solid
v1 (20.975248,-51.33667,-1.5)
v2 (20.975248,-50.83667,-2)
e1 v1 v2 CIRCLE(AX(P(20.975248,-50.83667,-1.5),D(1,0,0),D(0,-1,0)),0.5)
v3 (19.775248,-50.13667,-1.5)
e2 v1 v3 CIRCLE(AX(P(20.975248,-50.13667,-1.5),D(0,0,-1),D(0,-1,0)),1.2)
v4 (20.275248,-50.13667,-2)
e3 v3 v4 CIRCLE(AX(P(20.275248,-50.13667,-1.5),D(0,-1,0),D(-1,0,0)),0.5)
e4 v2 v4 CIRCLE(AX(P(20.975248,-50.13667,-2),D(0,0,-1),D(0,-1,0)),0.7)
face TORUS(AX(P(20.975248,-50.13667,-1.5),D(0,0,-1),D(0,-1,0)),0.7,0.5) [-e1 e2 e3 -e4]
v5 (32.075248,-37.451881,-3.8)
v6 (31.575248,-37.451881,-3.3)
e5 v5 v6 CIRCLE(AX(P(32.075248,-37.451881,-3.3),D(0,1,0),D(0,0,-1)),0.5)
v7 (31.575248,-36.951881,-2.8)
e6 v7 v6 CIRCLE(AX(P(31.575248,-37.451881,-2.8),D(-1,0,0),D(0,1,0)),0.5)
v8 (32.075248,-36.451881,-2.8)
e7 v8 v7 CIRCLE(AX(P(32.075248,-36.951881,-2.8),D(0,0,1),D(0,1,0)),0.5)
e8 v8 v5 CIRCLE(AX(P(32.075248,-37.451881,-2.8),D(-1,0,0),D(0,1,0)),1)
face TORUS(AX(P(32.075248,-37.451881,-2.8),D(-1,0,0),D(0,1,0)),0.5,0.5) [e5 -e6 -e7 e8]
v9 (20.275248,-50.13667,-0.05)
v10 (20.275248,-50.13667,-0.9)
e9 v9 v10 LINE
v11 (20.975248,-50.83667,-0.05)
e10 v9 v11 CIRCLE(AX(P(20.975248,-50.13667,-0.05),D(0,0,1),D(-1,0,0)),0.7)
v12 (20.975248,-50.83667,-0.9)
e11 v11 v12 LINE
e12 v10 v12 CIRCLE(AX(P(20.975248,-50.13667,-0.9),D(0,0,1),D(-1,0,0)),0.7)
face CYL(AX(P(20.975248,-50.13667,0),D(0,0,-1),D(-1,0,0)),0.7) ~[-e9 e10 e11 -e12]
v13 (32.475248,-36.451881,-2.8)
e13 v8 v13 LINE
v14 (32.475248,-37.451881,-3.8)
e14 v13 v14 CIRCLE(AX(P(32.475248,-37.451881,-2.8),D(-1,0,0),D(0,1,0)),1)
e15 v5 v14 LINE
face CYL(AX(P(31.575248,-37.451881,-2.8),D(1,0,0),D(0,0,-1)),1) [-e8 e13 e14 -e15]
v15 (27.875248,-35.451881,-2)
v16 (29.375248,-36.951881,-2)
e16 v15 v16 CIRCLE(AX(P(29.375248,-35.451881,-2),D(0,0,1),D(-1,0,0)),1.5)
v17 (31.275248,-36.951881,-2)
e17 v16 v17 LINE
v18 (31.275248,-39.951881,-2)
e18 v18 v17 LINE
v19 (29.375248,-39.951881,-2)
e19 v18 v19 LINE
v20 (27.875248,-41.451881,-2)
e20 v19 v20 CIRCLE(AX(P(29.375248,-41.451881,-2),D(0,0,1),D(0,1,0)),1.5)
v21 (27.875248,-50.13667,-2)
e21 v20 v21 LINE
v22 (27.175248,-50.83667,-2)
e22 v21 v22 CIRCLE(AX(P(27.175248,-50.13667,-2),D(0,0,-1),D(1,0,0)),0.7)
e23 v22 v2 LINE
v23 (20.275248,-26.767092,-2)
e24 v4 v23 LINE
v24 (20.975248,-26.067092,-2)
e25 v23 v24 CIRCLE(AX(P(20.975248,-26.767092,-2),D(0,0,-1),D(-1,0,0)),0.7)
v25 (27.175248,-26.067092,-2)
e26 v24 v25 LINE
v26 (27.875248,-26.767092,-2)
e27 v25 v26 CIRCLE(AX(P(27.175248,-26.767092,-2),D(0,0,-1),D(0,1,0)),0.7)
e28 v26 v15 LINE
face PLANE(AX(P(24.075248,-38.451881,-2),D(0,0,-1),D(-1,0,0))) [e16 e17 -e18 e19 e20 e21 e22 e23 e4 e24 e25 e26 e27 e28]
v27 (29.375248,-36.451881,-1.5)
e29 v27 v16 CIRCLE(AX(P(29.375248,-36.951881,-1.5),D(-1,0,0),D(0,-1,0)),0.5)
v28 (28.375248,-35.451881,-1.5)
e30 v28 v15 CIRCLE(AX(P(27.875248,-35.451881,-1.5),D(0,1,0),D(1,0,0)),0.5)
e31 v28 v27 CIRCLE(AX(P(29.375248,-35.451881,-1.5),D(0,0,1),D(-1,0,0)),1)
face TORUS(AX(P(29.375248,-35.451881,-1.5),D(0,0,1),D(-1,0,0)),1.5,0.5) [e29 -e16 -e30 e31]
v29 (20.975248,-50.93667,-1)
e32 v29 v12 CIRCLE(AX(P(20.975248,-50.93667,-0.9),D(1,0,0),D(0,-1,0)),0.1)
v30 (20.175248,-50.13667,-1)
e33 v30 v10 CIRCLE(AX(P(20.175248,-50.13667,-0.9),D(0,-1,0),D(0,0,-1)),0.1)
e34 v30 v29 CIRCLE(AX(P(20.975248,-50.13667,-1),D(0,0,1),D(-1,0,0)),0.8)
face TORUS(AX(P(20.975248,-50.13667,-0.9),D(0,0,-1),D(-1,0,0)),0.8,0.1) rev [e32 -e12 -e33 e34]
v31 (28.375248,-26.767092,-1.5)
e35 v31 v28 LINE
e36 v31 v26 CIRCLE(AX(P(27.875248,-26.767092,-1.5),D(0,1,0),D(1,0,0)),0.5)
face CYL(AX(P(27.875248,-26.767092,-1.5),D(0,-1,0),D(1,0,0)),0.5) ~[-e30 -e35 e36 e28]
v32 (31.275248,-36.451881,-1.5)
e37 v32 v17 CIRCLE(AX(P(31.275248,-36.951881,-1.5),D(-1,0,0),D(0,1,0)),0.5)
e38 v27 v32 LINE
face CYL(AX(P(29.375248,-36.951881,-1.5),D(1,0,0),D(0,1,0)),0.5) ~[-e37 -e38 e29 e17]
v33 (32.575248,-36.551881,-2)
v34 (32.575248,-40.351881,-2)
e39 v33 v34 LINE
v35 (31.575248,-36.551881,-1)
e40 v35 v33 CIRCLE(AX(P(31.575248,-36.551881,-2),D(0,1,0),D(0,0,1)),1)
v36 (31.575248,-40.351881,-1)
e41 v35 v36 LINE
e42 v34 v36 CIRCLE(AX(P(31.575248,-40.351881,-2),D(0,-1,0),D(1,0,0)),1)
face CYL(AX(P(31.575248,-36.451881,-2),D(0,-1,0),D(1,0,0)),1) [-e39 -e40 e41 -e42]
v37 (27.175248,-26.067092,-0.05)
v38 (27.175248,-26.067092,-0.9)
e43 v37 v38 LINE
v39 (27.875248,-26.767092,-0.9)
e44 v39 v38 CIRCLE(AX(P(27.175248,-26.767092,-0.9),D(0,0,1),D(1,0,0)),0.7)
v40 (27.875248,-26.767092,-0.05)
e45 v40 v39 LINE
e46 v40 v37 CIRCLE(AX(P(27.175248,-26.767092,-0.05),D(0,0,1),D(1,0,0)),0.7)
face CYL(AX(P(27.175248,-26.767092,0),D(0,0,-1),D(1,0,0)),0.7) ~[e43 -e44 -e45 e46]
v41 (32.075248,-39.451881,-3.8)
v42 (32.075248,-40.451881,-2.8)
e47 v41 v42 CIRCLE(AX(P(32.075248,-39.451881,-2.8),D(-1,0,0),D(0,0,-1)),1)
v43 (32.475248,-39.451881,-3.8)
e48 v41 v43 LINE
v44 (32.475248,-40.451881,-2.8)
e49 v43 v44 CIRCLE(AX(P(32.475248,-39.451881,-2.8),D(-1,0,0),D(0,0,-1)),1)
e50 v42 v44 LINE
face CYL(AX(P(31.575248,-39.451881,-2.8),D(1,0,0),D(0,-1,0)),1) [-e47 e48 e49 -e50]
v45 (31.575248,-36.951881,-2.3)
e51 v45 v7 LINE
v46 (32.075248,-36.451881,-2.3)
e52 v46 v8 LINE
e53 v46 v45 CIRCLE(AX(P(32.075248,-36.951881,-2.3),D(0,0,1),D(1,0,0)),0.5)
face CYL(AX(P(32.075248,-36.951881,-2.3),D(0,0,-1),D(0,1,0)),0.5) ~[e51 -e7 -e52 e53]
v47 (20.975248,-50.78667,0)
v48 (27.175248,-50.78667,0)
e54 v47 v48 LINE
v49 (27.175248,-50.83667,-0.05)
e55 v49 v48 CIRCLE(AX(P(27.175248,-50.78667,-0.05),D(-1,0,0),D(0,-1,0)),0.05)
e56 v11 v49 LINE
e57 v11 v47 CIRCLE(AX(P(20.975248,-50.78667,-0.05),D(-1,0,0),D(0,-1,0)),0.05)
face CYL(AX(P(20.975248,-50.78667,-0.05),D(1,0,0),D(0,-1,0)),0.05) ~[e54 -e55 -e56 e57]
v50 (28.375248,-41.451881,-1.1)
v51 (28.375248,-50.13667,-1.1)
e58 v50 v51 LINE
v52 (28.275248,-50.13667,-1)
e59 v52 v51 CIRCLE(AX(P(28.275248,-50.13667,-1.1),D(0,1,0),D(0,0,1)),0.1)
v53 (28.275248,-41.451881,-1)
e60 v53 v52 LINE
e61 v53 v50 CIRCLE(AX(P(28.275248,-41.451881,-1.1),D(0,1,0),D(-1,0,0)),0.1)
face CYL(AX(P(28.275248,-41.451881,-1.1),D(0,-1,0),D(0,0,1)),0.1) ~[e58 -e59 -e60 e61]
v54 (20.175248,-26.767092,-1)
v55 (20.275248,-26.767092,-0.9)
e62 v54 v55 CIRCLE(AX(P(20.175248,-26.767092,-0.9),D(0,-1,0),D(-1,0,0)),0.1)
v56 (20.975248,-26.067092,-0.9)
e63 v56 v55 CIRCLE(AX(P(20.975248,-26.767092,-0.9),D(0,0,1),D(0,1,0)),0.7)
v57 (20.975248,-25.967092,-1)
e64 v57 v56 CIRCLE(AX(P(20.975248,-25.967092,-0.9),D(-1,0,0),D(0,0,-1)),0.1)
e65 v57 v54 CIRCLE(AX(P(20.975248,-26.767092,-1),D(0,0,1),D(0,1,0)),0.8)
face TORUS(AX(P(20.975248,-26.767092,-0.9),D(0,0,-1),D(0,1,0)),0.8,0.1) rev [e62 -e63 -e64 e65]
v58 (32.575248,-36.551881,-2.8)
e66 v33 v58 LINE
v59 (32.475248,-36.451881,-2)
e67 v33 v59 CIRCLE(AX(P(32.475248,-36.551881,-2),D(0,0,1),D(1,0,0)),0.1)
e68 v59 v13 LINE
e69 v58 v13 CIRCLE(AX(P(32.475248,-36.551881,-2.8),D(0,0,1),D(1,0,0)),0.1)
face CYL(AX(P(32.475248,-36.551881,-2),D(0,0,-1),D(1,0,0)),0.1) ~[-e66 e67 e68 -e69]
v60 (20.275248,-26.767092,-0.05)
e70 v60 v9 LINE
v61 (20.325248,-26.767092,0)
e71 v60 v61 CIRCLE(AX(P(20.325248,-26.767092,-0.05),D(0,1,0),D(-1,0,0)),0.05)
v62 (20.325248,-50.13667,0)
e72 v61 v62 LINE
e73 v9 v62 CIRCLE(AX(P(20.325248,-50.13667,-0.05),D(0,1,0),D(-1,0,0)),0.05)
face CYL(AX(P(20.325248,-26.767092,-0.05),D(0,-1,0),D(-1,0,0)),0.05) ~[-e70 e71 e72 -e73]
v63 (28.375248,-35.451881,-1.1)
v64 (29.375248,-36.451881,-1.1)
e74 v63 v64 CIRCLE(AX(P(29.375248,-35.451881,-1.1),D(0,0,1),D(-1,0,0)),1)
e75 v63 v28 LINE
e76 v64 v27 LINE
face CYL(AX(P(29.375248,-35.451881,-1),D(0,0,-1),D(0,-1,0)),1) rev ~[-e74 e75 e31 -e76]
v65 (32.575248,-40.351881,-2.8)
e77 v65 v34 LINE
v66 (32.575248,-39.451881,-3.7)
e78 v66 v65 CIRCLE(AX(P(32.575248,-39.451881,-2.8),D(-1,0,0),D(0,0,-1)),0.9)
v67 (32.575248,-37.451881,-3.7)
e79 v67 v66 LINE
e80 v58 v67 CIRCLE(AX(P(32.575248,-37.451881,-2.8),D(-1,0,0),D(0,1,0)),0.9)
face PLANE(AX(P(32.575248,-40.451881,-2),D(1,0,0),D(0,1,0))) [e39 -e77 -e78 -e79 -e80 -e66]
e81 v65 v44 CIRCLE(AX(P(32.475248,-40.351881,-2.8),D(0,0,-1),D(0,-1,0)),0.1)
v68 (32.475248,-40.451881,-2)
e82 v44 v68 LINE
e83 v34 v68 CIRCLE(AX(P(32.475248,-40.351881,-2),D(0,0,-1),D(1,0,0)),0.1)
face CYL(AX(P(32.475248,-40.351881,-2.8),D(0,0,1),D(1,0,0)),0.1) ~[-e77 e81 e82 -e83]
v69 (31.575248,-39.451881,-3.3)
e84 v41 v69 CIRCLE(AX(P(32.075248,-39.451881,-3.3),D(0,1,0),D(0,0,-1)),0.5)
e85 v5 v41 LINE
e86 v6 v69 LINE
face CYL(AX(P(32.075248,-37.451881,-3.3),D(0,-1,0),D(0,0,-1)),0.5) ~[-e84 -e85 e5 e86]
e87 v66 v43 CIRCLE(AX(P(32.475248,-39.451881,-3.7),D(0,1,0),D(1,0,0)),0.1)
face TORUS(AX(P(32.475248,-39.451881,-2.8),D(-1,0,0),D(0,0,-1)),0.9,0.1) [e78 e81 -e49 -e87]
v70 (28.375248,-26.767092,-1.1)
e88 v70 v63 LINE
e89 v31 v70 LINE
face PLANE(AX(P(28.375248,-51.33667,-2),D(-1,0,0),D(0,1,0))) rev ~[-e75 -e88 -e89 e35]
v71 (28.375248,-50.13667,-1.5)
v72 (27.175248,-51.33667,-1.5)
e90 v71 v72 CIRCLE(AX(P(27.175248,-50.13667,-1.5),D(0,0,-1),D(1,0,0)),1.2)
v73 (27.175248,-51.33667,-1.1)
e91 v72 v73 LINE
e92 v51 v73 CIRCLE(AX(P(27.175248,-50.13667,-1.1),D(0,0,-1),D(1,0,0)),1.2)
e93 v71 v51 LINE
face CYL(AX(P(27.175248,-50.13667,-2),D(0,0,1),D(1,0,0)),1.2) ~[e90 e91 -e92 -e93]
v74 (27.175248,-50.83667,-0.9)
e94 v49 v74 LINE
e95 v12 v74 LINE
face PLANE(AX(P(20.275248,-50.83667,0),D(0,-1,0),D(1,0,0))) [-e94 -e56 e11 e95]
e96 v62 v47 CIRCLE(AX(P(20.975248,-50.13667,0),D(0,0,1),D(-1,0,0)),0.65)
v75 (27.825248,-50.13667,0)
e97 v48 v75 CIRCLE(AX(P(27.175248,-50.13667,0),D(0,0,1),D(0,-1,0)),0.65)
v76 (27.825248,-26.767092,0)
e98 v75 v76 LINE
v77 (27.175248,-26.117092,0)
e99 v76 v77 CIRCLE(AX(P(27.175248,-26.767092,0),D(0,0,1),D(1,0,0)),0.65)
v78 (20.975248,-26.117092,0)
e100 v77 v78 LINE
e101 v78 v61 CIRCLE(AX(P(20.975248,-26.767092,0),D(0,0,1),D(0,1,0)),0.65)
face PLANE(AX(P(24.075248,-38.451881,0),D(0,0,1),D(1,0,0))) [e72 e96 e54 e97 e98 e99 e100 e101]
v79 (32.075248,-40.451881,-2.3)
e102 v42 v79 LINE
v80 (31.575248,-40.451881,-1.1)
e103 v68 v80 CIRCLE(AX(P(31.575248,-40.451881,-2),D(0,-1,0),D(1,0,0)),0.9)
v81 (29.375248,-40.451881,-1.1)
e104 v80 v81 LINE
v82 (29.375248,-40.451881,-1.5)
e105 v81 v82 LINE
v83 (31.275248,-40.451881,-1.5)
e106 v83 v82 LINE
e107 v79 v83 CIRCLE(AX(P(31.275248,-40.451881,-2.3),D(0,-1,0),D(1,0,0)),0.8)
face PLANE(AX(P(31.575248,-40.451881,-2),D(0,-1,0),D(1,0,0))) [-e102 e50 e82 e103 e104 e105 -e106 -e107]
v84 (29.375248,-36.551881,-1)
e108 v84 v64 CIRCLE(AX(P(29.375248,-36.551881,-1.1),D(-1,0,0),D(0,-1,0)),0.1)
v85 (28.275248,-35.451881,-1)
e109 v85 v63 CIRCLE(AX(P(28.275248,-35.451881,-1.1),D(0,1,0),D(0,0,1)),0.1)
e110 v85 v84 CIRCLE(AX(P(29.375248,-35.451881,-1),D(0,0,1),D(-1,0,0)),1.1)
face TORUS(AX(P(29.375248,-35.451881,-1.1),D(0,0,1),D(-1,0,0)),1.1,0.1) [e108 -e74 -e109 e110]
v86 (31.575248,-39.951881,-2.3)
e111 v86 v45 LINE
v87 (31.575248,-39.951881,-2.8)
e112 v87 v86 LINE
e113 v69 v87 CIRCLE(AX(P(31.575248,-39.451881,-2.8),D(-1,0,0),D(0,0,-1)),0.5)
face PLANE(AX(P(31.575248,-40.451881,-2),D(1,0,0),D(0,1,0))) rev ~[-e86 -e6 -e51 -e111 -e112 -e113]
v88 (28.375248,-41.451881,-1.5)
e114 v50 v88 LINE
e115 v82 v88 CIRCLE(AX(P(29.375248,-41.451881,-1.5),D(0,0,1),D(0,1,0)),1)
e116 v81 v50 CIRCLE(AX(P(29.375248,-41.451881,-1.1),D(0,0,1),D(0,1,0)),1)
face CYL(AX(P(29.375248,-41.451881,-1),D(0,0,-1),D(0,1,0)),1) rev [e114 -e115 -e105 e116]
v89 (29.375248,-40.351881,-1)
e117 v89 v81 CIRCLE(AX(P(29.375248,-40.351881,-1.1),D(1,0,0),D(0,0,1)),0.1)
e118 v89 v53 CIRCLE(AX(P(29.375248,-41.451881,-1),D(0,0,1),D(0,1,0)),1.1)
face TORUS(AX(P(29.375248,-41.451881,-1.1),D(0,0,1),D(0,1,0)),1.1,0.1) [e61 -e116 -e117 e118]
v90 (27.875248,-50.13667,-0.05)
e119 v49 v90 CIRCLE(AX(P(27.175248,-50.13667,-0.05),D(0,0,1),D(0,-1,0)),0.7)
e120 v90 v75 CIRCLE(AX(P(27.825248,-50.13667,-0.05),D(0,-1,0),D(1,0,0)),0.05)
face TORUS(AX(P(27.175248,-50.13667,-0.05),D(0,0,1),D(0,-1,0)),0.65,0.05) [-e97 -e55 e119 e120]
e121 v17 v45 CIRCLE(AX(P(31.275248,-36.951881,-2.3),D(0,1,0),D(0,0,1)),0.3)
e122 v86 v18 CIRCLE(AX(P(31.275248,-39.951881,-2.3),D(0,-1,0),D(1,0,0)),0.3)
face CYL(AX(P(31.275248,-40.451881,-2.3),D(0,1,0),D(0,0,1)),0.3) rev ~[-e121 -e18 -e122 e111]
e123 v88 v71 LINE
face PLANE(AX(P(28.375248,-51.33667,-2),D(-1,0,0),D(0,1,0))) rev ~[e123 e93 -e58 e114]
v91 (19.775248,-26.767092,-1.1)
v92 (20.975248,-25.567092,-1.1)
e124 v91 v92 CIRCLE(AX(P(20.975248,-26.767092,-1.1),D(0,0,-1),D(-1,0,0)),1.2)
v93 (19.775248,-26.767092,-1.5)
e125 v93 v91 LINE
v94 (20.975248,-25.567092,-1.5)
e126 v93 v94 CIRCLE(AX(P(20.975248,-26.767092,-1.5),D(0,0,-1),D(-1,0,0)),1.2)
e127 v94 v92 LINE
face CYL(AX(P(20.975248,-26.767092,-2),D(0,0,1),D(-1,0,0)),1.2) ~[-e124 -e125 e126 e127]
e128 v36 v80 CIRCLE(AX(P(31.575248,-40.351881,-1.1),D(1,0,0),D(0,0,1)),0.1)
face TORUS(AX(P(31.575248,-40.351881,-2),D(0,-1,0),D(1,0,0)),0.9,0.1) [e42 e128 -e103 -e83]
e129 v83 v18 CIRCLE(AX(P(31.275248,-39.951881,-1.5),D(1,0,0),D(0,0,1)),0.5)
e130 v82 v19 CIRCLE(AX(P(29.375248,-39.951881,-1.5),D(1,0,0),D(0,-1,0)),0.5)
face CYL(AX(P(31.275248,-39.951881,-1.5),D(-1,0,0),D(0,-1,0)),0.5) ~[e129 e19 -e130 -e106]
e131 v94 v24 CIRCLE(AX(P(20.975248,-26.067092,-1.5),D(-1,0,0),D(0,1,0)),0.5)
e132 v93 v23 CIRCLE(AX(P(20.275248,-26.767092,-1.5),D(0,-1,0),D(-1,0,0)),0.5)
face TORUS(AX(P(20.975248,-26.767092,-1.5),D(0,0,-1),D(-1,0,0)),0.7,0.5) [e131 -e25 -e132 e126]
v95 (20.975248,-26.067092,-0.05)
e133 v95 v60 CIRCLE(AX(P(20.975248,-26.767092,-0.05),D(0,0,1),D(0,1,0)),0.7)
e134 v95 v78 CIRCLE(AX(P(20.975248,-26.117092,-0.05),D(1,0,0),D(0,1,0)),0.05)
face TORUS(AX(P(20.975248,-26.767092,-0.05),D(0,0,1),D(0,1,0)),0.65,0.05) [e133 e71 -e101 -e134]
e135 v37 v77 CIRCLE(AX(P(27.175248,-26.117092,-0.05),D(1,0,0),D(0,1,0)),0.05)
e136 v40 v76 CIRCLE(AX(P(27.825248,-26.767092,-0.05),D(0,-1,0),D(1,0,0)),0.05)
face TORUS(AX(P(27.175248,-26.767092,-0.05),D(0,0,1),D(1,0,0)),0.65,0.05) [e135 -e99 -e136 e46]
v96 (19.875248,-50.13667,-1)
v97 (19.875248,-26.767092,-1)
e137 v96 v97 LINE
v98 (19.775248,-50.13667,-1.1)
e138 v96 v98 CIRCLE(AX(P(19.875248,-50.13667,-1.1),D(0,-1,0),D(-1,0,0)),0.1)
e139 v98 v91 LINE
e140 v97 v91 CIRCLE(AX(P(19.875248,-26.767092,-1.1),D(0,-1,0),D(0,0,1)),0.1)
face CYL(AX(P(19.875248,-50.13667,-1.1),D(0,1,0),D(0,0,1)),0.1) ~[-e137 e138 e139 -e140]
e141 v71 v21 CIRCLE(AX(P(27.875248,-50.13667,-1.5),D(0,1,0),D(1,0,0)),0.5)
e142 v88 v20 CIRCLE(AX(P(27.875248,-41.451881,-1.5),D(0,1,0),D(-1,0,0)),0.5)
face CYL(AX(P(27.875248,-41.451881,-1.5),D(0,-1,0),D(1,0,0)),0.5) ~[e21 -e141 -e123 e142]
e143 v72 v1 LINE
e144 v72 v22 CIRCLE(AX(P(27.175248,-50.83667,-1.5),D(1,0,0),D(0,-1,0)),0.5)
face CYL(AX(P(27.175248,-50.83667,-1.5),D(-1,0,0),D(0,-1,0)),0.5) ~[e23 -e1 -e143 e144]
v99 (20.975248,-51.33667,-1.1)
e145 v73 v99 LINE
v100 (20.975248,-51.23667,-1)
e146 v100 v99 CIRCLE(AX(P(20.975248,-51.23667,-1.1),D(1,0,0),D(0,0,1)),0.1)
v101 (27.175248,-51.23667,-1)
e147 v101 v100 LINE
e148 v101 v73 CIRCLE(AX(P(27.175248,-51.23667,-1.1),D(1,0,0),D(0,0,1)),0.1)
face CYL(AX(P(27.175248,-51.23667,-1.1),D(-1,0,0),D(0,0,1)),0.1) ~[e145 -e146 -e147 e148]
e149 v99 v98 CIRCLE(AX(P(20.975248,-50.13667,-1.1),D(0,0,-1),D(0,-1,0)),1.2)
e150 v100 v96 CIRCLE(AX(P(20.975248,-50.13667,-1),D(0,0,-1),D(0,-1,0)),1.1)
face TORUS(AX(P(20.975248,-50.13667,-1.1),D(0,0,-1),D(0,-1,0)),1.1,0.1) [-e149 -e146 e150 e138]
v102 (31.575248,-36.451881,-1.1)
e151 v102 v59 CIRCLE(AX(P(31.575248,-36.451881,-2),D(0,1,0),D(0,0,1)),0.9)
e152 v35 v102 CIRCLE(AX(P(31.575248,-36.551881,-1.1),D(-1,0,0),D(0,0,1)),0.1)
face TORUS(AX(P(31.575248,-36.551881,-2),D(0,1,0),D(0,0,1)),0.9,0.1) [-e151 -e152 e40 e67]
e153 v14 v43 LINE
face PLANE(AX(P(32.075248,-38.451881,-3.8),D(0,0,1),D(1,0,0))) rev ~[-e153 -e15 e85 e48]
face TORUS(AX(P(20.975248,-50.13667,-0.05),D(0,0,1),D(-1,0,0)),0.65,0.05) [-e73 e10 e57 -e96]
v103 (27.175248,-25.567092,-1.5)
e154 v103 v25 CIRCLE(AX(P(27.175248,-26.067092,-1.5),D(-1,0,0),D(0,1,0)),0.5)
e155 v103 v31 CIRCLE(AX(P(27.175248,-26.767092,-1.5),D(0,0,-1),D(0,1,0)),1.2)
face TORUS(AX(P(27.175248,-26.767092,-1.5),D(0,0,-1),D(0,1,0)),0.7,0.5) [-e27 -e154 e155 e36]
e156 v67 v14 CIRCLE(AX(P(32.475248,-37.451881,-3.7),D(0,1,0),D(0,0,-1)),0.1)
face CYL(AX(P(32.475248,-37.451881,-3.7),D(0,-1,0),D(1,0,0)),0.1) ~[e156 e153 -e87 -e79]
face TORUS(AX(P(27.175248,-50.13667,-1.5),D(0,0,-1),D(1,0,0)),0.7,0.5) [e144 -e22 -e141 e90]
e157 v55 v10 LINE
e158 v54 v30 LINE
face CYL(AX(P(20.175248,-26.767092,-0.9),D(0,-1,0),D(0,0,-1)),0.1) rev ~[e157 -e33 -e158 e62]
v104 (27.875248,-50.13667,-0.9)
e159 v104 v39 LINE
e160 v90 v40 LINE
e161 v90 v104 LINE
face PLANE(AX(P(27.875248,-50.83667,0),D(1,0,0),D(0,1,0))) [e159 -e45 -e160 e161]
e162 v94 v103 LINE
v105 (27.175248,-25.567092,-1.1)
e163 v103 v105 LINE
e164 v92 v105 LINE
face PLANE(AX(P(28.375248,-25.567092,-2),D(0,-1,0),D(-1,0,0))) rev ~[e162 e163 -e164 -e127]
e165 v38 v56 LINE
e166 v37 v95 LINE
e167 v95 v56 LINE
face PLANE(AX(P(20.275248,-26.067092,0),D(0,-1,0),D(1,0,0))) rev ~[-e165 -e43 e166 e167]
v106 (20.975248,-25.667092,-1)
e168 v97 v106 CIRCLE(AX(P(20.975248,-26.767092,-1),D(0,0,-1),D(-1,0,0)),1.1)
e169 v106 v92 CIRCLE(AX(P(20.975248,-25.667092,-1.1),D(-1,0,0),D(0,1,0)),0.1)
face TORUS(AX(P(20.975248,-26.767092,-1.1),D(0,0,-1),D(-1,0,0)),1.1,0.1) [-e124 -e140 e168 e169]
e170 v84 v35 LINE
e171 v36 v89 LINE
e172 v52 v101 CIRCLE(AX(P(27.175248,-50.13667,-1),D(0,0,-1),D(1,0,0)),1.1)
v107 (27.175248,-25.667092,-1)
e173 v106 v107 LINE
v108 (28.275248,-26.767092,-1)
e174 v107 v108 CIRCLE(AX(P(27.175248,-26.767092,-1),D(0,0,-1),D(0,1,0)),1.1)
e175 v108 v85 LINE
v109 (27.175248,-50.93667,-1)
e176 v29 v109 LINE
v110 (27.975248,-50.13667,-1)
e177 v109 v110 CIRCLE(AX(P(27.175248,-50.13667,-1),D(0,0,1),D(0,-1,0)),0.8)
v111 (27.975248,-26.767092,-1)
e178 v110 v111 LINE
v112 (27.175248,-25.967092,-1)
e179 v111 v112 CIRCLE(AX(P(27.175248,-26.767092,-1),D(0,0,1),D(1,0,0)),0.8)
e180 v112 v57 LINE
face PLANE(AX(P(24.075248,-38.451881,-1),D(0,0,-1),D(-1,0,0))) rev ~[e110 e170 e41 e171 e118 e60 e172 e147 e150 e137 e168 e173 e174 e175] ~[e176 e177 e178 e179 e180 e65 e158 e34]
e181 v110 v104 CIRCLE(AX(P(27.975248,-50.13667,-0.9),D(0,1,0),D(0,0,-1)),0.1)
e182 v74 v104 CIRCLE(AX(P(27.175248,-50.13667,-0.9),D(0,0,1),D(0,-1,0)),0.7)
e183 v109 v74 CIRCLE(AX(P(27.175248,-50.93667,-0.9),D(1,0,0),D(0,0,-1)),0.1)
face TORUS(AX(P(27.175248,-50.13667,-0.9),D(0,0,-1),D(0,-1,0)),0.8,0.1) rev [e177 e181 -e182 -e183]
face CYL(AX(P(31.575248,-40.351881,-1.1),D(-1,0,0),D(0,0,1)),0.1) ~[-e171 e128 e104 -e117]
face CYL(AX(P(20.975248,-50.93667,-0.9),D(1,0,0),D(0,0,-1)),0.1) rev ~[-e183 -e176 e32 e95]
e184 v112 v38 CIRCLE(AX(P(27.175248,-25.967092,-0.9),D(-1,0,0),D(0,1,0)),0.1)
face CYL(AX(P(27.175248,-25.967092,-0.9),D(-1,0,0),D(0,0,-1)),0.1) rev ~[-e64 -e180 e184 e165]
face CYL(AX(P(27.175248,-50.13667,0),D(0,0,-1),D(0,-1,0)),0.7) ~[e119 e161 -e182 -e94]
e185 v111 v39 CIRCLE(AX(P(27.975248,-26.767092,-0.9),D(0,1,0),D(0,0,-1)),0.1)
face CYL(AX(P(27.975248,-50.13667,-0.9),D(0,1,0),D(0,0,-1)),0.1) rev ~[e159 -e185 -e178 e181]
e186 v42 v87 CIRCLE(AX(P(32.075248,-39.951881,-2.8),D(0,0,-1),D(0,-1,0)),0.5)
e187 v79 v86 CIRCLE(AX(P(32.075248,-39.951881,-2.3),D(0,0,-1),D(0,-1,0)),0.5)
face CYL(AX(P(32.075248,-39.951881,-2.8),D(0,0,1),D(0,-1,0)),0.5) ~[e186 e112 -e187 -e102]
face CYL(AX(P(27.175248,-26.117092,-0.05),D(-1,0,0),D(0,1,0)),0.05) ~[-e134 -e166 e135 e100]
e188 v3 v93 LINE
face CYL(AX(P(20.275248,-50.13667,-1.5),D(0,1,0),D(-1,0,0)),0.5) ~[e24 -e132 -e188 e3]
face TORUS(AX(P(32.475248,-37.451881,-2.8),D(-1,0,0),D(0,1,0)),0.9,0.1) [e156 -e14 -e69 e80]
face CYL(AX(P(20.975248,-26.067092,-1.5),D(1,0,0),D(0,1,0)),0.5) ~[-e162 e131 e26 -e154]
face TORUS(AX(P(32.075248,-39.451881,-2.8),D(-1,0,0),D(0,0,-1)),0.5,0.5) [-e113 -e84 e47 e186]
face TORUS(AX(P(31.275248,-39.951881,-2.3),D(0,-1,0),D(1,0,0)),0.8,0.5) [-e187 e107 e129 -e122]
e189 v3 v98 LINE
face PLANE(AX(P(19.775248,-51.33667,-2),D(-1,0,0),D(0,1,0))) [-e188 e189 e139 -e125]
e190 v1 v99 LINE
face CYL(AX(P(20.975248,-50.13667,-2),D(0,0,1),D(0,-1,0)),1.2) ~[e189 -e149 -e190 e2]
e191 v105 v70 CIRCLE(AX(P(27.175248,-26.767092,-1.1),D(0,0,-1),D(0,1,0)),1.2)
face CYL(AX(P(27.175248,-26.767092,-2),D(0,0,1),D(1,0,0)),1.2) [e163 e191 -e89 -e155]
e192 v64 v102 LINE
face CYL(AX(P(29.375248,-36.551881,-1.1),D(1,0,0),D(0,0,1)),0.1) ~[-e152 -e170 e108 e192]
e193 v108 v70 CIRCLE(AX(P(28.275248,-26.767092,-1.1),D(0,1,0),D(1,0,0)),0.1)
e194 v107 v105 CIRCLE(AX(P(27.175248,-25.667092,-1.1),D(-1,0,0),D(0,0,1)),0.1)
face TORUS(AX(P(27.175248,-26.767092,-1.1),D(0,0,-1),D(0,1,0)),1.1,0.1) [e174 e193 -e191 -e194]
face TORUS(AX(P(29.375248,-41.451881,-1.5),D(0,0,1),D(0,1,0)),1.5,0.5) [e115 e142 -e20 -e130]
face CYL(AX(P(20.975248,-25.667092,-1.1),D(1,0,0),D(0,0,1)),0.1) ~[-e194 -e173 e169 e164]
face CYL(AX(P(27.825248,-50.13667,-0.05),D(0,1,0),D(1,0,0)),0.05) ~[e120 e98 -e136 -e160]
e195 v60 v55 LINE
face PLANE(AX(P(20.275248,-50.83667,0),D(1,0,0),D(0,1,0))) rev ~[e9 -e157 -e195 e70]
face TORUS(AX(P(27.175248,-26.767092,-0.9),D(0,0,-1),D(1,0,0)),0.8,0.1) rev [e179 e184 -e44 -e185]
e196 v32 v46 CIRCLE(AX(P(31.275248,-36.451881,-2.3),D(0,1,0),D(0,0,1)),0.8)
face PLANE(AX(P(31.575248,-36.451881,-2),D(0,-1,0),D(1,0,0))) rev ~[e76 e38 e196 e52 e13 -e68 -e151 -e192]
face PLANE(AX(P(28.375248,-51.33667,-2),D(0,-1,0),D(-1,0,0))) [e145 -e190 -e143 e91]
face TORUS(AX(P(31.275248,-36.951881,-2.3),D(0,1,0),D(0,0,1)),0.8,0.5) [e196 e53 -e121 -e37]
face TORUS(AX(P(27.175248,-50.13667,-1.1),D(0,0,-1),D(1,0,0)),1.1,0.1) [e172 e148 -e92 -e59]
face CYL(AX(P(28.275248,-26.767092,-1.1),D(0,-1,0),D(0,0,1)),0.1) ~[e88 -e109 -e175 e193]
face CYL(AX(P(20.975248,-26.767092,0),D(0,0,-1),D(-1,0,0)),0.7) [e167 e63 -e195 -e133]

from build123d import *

# Parameters (mm, degrees)
SKETCH1_W           = 7.6
SKETCH1_H           = 24.769577967
BOSS_EXTRUDE1_DEPTH = 2
SKETCH2_W           = 8.6
SKETCH2_H           = 25.769577967
BOSS_EXTRUDE2_DEPTH = 1
SKETCH3_W           = 1
SKETCH3_H           = 4
BOSS_EXTRUDE3_DEPTH = 4.2
SKETCH4_W           = 1
SKETCH4_H           = 4
BOSS_EXTRUDE4_DEPTH = 1.8
FILLET1_R           = 1
FILLET2_R           = 0.3
FILLET3_R           = 1
FILLET4_R           = 1.2
FILLET5_R           = 0.7
FILLET6_R           = 0.1
FILLET7_R           = 0.05
FILLET8_R           = 0.5


with BuildPart() as part:
    # Sketch1 → Boss-Extrude1 (new body)
    with BuildSketch(Plane.XY):
        with Locations((24.075247947, -38.451880902)):
            Rectangle(SKETCH1_W, SKETCH1_H)
    extrude(amount=-BOSS_EXTRUDE1_DEPTH)

    # Sketch2 → Boss-Extrude2 (add)
    with BuildSketch(Plane(origin=(0, 0, -2), x_dir=(-1, 0, 0), z_dir=(0, 0, -1))):
        with Locations((-24.075247947, -38.451880902)):
            Rectangle(SKETCH2_W, SKETCH2_H)
    extrude(amount=-BOSS_EXTRUDE2_DEPTH)

    # Sketch3 → Boss-Extrude3 (add)
    with BuildSketch(Plane(origin=(28.375247947, -22.961421938, 0), x_dir=(0, 0, -1), z_dir=(-1, 0, 0))):
        with Locations((1.5, 15.490458963)):
            Rectangle(SKETCH3_W, SKETCH3_H)
    extrude(amount=-BOSS_EXTRUDE3_DEPTH)

    # Sketch4 → Boss-Extrude4 (add)
    with BuildSketch(Plane(origin=(65.150495893, 0, -2), x_dir=(1, 0, 0), z_dir=(0, 0, 1))):
        with Locations((-33.075247947, -38.451880902)):
            Rectangle(SKETCH4_W, SKETCH4_H)
    extrude(amount=-BOSS_EXTRUDE4_DEPTH)

    # Fillet1
    fillet1_edges = [part.edges().sort_by_distance(p)[0] for p in [
        (32.575247947, -38.451880902, -1),
    ]]
    fillet(fillet1_edges, radius=FILLET1_R)

    # Fillet2
    fillet2_edges = [part.edges().sort_by_distance(p)[0] for p in [
        (31.575247947, -38.451880902, -2),
    ]]
    fillet(fillet2_edges, radius=FILLET2_R)

    # Fillet3
    fillet3_edges = [part.edges().sort_by_distance(p)[0] for p in [
        (28.375247947, -40.451880902, -1.5),
        (28.375247947, -36.451880902, -1.5),
        (32.075247947, -36.451880902, -3.8),
        (32.075247947, -40.451880902, -3.8),
    ]]
    fillet(fillet3_edges, radius=FILLET3_R)

    # Fillet4
    fillet4_edges = [part.edges().sort_by_distance(p)[0] for p in [
        (28.375247947, -25.567091918, -1.5),
        (19.775247947, -25.567091918, -1.5),
        (19.775247947, -51.336669885, -1.5),
        (28.375247947, -51.336669885, -1.5),
    ]]
    fillet(fillet4_edges, radius=FILLET4_R)

    # Fillet5
    fillet5_edges = [part.edges().sort_by_distance(p)[0] for p in [
        (27.875247947, -26.067091918, -0.5),
        (20.275247947, -26.067091918, -0.5),
        (20.275247947, -50.836669885, -0.5),
        (27.875247947, -50.836669885, -0.5),
    ]]
    fillet(fillet5_edges, radius=FILLET5_R)

    # Fillet6
    fillet6_edges = [part.edges().sort_by_distance(p)[0] for p in [
        (24.075247947, -51.336669885, -1),
        (19.775247947, -38.451880902, -1),
        (28.375247947, -31.10948641, -1),
        (24.075247947, -25.567091918, -1),
        (28.023776084, -50.985198022, -1),
        (28.023776084, -25.918563781, -1),
        (20.126719809, -25.918563781, -1),
        (20.126719809, -50.985198022, -1),
        (27.875247947, -38.451880902, -1),
        (24.075247947, -26.067091918, -1),
        (20.275247947, -38.451880902, -1),
        (24.075247947, -50.836669885, -1),
        (27.670222693, -26.272117171, -1),
        (20.4802732, -26.272117171, -1),
        (20.4802732, -50.631644632, -1),
        (27.670222693, -50.631644632, -1),
        (30.475247947, -40.451880902, -1),
        (30.475247947, -36.451880902, -1),
        (32.575247947, -36.451880902, -2.4),
        (32.282354728, -36.451880902, -1.292893219),
        (32.282354728, -40.451880902, -1.292893219),
        (28.375247947, -45.794275393, -1),
        (32.575247947, -40.451880902, -2.4),
        (32.575247947, -38.451880902, -3.8),
        (32.575247947, -40.158987683, -3.507106781),
        (32.575247947, -36.74477412, -3.507106781),
        (28.668141165, -36.158987683, -1),
        (28.668141165, -40.74477412, -1),
    ]]
    fillet(fillet6_edges, radius=FILLET6_R)

    # Fillet7
    fillet7_edges = [part.edges().sort_by_distance(p)[0] for p in [
        (27.875247947, -38.451880902, 0),
        (24.075247947, -26.067091918, 0),
        (20.275247947, -38.451880902, 0),
        (24.075247947, -50.836669885, 0),
        (27.670222693, -50.631644632, 0),
        (20.4802732, -50.631644632, 0),
        (20.4802732, -26.272117171, 0),
        (27.670222693, -26.272117171, 0),
    ]]
    fillet(fillet7_edges, radius=FILLET7_R)

    # Fillet8
    fillet8_edges = [part.edges().sort_by_distance(p)[0] for p in [
        (24.075247947, -51.336669885, -2),
        (19.775247947, -38.451880902, -2),
        (24.075247947, -25.567091918, -2),
        (28.375247947, -31.10948641, -2),
        (28.023776084, -50.985198022, -2),
        (28.023776084, -25.918563781, -2),
        (20.126719809, -25.918563781, -2),
        (20.126719809, -50.985198022, -2),
        (30.325247947, -36.451880902, -2),
        (30.325247947, -40.451880902, -2),
        (31.487379981, -40.451880902, -2.087867966),
        (31.487379981, -36.451880902, -2.087867966),
        (31.575247947, -36.451880902, -2.55),
        (28.375247947, -45.794275393, -2),
        (31.575247947, -40.451880902, -2.55),
        (31.575247947, -38.451880902, -3.8),
        (31.575247947, -40.158987683, -3.507106781),
        (31.575247947, -36.74477412, -3.507106781),
        (28.668141165, -36.158987683, -2),
        (28.668141165, -40.74477412, -2),
    ]]
    fillet(fillet8_edges, radius=FILLET8_R)


solid = part.part
